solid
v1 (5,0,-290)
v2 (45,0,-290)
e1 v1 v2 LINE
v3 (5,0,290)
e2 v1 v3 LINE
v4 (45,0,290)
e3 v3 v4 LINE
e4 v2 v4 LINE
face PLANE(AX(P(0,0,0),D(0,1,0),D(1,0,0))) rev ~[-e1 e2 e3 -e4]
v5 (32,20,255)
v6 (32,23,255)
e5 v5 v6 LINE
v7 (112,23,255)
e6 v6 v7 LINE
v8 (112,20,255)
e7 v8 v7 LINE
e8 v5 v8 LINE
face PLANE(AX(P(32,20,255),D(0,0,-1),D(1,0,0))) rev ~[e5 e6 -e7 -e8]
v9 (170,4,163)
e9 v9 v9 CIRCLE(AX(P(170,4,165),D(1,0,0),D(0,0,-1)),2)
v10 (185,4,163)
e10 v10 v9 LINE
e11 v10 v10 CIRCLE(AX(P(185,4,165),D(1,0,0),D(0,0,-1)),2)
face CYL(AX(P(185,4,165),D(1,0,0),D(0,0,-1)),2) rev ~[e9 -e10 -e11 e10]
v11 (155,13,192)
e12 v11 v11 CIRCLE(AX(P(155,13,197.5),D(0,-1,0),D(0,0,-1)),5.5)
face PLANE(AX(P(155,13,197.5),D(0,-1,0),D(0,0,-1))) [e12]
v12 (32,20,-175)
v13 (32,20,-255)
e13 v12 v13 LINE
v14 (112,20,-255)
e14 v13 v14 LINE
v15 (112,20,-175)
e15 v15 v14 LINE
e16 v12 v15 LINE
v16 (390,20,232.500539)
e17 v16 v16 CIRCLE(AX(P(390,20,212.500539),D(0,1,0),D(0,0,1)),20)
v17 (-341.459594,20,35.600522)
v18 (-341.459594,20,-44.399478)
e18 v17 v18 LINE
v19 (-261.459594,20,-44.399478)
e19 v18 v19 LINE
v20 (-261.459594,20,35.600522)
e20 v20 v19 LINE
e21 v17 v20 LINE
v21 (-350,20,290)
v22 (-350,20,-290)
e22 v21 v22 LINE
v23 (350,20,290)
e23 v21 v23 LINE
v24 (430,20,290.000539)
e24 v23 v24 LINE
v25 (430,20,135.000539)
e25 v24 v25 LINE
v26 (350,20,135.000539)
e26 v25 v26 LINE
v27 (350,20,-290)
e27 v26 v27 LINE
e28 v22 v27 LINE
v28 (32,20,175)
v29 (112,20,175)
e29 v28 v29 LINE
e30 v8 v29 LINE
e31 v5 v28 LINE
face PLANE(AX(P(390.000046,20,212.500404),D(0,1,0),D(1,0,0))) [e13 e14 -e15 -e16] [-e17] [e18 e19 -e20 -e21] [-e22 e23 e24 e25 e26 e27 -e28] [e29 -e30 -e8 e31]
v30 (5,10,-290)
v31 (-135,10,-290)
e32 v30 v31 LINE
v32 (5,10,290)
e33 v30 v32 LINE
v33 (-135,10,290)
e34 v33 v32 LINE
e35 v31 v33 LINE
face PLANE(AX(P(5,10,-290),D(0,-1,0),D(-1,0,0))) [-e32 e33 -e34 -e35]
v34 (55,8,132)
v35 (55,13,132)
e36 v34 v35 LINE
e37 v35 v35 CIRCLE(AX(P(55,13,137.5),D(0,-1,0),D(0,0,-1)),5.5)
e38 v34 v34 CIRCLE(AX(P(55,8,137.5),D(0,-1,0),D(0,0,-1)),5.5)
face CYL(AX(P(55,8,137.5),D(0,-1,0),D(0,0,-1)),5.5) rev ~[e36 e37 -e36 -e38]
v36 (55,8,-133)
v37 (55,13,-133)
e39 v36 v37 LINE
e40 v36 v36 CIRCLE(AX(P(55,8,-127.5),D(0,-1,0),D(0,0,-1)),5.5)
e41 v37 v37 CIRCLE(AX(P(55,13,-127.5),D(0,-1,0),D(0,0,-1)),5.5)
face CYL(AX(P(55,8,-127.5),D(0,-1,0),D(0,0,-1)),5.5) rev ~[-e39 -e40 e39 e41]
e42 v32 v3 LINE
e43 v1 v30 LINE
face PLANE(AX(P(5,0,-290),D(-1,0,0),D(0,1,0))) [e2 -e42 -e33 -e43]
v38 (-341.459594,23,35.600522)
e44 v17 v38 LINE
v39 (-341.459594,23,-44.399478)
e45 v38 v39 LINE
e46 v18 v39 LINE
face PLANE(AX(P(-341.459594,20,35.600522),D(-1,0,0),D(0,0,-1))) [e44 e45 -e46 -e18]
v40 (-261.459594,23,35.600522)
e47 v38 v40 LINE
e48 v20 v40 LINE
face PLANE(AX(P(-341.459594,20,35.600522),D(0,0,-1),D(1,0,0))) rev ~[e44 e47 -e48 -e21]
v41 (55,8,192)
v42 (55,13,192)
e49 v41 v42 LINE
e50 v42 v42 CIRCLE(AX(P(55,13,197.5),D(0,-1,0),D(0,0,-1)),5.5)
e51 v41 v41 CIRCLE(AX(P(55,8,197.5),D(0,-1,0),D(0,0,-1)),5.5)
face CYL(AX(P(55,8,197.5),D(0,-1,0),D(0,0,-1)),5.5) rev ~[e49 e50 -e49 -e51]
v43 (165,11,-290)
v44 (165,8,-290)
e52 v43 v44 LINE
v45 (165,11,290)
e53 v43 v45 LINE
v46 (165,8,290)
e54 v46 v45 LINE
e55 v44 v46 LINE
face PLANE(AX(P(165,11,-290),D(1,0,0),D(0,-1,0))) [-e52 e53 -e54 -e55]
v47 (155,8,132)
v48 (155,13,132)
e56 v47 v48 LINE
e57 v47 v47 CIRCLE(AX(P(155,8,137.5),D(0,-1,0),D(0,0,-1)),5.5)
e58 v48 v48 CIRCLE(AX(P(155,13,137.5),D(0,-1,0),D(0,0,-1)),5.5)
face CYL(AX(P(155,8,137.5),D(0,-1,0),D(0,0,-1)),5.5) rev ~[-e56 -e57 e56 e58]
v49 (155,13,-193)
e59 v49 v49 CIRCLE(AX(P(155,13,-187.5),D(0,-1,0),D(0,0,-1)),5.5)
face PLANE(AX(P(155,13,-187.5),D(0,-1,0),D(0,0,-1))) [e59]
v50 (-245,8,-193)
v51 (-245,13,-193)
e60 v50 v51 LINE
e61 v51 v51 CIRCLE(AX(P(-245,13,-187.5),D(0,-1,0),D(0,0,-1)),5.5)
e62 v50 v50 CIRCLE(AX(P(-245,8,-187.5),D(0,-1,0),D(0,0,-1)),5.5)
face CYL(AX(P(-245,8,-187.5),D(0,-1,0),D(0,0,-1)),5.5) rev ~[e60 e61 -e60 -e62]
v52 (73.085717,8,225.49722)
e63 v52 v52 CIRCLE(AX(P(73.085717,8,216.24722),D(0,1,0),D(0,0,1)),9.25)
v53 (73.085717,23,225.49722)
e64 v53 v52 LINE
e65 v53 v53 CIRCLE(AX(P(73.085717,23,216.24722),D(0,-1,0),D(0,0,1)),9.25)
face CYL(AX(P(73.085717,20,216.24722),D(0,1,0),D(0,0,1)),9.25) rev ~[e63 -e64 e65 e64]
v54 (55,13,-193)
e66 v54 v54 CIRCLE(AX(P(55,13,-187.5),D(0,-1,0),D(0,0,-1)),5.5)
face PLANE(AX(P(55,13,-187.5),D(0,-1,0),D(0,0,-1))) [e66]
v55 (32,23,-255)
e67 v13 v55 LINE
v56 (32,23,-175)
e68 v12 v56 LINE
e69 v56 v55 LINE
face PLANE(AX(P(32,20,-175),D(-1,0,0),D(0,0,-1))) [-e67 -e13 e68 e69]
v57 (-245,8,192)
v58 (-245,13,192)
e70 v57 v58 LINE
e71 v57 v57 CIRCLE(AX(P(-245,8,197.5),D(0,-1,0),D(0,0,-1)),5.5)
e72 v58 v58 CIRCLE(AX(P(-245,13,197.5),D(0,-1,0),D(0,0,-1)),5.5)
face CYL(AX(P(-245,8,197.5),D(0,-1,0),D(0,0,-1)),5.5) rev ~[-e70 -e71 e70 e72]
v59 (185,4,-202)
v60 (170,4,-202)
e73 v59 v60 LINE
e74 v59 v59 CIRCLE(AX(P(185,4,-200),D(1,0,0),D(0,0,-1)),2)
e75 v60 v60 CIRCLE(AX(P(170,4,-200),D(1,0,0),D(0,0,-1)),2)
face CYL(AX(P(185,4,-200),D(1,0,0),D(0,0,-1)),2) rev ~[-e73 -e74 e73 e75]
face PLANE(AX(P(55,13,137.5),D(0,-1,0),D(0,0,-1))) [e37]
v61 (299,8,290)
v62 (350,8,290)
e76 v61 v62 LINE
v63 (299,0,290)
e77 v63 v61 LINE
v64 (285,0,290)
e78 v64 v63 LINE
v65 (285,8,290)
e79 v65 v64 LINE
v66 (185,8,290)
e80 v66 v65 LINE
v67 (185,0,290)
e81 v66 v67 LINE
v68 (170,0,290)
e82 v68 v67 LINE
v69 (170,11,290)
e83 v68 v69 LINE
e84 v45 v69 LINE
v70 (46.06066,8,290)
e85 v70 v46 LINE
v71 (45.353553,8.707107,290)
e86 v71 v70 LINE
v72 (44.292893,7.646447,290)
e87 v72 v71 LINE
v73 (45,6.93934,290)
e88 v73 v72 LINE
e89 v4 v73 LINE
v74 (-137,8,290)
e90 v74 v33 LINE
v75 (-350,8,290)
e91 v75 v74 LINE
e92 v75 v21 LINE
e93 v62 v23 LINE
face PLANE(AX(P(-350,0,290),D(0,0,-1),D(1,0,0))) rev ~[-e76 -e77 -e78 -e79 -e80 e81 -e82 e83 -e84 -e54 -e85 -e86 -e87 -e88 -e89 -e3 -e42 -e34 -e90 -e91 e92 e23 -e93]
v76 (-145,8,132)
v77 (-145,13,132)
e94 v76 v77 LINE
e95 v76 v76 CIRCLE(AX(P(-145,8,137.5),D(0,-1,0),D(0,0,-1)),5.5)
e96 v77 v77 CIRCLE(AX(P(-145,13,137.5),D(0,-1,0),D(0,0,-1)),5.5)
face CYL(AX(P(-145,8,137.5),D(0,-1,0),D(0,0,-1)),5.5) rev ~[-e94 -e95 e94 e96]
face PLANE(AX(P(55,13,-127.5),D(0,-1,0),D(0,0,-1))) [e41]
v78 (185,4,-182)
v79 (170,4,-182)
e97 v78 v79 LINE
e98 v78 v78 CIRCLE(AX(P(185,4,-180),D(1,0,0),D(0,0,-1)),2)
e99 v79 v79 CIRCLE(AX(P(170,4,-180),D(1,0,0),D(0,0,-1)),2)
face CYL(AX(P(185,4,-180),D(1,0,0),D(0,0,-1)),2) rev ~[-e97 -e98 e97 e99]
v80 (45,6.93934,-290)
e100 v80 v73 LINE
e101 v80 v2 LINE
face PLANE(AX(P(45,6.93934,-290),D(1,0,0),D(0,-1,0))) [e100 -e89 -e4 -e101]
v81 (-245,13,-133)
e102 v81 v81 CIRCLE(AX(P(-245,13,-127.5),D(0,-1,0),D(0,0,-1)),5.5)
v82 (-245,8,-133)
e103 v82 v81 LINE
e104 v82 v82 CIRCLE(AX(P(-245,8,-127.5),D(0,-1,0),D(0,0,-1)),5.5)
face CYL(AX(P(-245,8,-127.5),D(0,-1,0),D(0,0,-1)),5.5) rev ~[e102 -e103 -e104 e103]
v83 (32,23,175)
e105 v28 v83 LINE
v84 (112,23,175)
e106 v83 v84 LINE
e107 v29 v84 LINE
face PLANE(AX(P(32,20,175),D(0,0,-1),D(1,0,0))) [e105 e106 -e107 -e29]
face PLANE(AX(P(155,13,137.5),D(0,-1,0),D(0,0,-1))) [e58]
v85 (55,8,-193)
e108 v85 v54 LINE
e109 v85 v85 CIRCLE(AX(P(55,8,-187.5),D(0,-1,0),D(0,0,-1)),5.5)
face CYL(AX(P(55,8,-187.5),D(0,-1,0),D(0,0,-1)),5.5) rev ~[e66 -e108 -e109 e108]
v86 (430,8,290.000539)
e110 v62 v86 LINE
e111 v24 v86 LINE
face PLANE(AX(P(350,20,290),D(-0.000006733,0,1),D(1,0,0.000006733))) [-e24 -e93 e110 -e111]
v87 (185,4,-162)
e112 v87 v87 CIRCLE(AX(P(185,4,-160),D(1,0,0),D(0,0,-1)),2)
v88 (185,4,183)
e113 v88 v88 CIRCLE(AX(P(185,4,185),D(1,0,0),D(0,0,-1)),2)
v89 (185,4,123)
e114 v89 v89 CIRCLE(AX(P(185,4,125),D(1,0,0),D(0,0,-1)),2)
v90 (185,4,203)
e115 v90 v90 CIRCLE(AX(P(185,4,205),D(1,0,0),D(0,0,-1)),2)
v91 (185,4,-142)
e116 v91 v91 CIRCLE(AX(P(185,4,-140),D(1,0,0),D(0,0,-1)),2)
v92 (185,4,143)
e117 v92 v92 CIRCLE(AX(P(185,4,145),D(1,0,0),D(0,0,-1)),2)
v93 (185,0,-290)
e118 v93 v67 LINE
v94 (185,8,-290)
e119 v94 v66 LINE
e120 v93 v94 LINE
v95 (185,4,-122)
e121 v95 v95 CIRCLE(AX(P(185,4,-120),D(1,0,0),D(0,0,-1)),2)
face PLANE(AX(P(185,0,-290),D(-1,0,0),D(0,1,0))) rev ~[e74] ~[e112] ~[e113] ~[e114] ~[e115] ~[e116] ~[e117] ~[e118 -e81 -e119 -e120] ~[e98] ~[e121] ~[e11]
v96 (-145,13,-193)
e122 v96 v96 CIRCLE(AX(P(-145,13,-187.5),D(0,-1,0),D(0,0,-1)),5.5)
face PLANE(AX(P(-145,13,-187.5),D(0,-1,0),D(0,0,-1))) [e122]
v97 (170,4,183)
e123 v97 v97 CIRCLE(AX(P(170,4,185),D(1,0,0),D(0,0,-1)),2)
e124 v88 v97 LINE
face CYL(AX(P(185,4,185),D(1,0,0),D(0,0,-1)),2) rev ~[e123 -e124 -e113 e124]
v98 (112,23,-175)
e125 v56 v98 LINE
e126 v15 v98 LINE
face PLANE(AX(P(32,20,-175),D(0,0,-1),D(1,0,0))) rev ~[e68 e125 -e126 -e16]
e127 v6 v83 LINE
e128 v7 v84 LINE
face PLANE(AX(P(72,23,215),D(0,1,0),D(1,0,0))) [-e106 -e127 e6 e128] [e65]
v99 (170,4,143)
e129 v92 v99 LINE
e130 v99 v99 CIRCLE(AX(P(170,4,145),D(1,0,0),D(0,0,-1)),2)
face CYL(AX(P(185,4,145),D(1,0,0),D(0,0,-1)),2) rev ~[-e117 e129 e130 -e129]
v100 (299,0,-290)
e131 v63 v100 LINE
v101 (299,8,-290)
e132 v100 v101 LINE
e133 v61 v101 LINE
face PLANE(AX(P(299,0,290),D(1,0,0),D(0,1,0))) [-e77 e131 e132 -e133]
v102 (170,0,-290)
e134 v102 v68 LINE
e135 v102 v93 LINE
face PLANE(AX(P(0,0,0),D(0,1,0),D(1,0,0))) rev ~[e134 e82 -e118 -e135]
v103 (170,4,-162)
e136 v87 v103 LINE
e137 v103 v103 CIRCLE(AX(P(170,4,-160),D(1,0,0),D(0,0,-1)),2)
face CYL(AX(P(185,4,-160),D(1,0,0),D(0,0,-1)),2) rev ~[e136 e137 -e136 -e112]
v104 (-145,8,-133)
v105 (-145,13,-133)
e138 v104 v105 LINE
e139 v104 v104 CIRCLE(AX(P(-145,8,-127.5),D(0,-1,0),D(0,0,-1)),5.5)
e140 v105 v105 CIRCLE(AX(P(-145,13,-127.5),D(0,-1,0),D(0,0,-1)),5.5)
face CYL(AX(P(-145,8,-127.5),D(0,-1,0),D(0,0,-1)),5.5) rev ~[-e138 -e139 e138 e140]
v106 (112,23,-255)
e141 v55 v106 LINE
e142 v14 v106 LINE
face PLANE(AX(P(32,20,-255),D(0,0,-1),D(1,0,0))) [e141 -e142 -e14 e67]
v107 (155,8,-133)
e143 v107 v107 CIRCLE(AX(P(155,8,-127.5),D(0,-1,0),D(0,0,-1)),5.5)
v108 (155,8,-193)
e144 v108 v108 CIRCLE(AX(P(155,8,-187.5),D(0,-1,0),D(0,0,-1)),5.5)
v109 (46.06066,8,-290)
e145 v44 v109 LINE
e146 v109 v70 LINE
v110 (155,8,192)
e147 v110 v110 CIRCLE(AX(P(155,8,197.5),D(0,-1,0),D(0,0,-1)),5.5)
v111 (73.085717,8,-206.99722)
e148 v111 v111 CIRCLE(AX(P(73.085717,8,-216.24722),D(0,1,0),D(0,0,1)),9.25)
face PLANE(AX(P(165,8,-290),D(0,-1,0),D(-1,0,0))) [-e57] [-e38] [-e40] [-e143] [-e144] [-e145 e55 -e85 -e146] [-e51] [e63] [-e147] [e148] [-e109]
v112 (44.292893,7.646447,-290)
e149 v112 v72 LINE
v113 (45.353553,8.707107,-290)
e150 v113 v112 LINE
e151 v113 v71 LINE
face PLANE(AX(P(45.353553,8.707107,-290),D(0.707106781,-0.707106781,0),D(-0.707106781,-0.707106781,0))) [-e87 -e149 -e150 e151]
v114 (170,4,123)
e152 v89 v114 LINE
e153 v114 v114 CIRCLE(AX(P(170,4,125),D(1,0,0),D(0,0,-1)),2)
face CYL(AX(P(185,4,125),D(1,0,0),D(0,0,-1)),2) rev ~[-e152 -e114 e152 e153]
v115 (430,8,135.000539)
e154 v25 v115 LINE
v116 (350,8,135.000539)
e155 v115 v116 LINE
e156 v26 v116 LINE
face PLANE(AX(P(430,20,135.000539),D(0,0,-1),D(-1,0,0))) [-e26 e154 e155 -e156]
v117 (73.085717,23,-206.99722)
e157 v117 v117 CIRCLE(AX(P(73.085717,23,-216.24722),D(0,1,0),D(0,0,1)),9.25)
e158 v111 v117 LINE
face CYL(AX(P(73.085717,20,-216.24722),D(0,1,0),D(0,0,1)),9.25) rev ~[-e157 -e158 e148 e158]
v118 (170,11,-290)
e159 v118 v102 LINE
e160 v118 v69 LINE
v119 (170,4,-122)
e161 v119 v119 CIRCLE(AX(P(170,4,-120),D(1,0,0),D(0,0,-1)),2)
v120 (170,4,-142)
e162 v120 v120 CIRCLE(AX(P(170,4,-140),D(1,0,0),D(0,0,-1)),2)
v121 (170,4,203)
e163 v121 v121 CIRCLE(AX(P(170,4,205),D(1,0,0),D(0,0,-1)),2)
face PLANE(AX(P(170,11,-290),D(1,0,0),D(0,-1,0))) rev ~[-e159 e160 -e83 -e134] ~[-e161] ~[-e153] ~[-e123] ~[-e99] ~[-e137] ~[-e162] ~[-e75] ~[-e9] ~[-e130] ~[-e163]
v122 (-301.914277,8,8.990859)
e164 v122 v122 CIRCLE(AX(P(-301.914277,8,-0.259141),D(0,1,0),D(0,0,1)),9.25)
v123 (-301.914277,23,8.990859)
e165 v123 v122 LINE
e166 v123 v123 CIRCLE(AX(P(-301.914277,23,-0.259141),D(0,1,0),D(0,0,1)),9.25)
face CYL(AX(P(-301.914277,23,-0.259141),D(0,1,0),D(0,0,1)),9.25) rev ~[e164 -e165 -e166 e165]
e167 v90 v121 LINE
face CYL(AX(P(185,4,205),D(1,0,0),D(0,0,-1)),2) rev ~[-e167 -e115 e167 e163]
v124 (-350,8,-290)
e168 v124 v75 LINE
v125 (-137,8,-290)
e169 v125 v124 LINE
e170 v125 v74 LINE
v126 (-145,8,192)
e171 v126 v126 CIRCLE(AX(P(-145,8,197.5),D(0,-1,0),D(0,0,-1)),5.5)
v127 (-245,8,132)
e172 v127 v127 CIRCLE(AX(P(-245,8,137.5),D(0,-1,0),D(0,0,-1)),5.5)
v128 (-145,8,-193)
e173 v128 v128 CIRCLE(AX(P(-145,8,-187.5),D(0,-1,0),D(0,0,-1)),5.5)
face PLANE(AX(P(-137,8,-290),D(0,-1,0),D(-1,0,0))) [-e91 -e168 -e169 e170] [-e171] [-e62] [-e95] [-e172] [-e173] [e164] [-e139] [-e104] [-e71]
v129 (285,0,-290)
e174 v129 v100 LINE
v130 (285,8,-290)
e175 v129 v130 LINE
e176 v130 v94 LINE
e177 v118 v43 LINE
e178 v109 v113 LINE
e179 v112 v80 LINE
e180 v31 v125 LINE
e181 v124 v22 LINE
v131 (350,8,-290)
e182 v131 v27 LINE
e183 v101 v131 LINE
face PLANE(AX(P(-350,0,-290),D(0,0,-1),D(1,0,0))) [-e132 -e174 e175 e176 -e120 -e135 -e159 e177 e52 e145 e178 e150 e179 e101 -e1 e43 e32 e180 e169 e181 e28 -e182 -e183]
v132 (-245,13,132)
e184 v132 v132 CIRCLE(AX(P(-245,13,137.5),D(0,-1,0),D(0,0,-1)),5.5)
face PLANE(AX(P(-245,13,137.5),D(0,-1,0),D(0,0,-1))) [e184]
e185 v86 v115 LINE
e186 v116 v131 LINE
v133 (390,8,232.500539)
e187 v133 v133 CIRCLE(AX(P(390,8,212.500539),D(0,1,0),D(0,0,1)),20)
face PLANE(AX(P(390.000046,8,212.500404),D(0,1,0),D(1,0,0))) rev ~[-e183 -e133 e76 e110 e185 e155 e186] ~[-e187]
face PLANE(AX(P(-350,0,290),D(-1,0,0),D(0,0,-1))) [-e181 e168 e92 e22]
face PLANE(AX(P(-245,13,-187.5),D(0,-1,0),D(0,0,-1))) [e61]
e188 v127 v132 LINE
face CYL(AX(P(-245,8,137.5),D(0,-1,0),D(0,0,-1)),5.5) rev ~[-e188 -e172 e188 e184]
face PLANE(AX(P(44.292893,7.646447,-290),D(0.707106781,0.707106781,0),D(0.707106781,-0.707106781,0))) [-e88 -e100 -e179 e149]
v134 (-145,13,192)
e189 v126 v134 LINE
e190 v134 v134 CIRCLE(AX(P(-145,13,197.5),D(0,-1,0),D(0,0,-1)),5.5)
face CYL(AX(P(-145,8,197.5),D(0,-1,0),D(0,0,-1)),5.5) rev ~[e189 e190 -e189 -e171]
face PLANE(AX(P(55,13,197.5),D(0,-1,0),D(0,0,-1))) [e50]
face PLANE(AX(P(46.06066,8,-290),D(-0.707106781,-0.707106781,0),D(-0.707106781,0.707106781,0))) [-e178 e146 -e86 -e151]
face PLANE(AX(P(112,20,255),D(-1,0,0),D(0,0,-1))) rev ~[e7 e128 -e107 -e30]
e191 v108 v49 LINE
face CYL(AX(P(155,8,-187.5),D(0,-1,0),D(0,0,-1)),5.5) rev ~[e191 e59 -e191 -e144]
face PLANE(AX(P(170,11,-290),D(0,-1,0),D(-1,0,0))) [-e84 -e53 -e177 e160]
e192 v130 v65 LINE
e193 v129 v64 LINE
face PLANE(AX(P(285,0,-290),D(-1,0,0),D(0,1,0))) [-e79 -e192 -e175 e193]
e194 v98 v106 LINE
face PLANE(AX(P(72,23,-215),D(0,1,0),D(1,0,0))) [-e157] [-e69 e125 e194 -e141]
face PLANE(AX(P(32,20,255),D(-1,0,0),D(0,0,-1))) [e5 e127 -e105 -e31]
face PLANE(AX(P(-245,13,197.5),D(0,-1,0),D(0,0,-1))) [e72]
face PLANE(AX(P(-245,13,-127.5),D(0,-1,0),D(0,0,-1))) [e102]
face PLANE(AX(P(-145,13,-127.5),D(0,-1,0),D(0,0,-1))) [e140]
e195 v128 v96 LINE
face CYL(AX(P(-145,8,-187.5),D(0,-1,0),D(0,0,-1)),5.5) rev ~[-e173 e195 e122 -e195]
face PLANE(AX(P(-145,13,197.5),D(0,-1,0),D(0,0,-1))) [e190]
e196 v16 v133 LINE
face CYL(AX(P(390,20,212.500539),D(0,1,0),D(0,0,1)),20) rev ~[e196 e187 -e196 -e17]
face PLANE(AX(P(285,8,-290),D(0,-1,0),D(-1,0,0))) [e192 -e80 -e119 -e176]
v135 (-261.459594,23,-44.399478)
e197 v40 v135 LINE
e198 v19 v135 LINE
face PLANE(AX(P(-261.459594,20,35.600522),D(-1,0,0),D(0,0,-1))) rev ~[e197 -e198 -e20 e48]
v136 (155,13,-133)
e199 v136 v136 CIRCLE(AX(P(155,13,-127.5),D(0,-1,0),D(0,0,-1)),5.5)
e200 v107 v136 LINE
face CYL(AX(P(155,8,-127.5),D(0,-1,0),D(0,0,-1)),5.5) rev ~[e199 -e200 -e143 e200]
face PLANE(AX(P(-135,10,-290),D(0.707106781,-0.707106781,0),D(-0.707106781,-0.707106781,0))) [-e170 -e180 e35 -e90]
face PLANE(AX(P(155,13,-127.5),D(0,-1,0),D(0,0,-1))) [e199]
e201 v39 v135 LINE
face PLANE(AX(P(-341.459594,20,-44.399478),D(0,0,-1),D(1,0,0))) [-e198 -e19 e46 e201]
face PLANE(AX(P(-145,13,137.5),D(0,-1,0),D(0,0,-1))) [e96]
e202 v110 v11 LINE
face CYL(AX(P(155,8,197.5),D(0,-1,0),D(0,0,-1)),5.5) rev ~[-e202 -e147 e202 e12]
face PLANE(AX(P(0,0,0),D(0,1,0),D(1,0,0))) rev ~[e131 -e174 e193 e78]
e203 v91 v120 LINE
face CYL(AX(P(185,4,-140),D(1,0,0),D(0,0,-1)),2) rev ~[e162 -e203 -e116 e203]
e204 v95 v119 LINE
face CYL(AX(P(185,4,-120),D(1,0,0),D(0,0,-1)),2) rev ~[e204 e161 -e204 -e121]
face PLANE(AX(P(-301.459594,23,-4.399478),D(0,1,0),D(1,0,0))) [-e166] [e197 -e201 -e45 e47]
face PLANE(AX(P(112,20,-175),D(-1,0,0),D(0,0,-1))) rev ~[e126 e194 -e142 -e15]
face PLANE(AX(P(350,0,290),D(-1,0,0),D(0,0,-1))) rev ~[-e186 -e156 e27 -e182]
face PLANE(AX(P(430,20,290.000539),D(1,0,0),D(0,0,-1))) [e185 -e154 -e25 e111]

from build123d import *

# Parameters (mm, degrees)
SKETCH_1_W                       = 700
SKETCH_1_H                       = 580
EXTRUDE_1_DEPTH                  = 20
EXTRUDE_2_DEPTH                  = 12
CUT_EXTRUDE_1_REACH              = 521.038
SKETCH_3_R                       = 20
CUT_EXTRUDE_2_REACH              = 724.288
CUT_EXTRUDE_3_REACH              = 724.288
CUT_EXTRUDE_4_REACH              = 724.288
SKETCH_6_W                       = 100
SKETCH_6_H                       = 8
CUT_EXTRUDE_5_REACH              = 610.872
SKETCH_7_R                       = 2
CUT_EXTRUDE_6_REACH              = 610.872
SKETCH_8_R                       = 2
PATTERN_LINEAR_1_COUNT           = 5
PATTERN_LINEAR_1_PITCH           = 20
CUT_EXTRUDE_7_REACH              = 724.288
SKETCH_9_W                       = 131
SKETCH_9_H                       = 8
SKETCH_13_R                      = 5.5
CUT_EXTRUDE_10_DEPTH             = 5
PATTERN_LINEAR_2_COUNT           = 2
PATTERN_LINEAR_2_PITCH           = 300
PATTERN_LINEAR_3_COUNT           = 2
PATTERN_LINEAR_3_PITCH           = 325
PATTERN_LINEAR_3_COPY_1_SKETCH_R = 5.5
PATTERN_LINEAR_3_COPY_1_DEPTH    = 5
SKETCH_15_W                      = 80
SKETCH_15_H                      = 80
EXTRUDE_3_DEPTH                  = 3
SKETCH_16_R                      = 9.25
CUT_EXTRUDE_11_DEPTH             = 520.16212535
SKETCH_15_3_R                    = 9.25
CUT_EXTRUDE_12_DEPTH             = 15


with BuildPart() as part:
    # 草图1 → 凸台-拉伸1 (new body)
    with BuildSketch(Plane(origin=(0, 0, 0), x_dir=(1, 0, 0), z_dir=(0, 1, 0))):
        Rectangle(SKETCH_1_W, SKETCH_1_H)
    extrude(amount=EXTRUDE_1_DEPTH)

    # 草图2 → 凸台-拉伸2 (add)
    with BuildSketch(Plane(origin=(0, 20, 0), x_dir=(1, 0, 0), z_dir=(0, 1, 0))):
        Polygon((350, -135.000538617), (350, -290), (430, -290.000538617), (430, -135.000538617), align=None)
    extrude(amount=-EXTRUDE_2_DEPTH)

    # 草图3 → 切除-拉伸1 (cut, up to next)
    with BuildSketch(Plane(origin=(0, 20, 0), x_dir=(1, 0, 0), z_dir=(0, 1, 0)), mode=Mode.PRIVATE) as cut_extrude_1_sk1:
        with Locations((390, -212.500538617)):
            Circle(SKETCH_3_R)
    cut_extrude_1_tool1 = extrude(cut_extrude_1_sk1.sketch, amount=-CUT_EXTRUDE_1_REACH, mode=Mode.PRIVATE) & part.part
    add(cut_extrude_1_tool1.solids().sort_by_distance((390, 20, 212.500539))[0], mode=Mode.SUBTRACT)

    # 草图4 → 切除-拉伸2 (cut, up to next)
    with BuildSketch(Plane(origin=(0, 0, -290), x_dir=(-1, 0, 0), z_dir=(0, 0, -1)), mode=Mode.PRIVATE) as cut_extrude_2_sk1:
        Polygon((-170, 0), (-170, 8), (-170, 11), (-165, 11), (-165, 8), (-46.060660172, 8), (-45.353553391, 8.707106781), (-44.292893219, 7.646446609), (-45, 6.939339828), (-45, 0), align=None)
    cut_extrude_2_tool1 = extrude(cut_extrude_2_sk1.sketch, amount=-CUT_EXTRUDE_2_REACH, mode=Mode.PRIVATE) & part.part
    add(cut_extrude_2_tool1.solids().sort_by_distance((108.328272, 4.084832, -290))[0], mode=Mode.SUBTRACT)

    # 草图5 → 切除-拉伸3 (cut, up to next)
    with BuildSketch(Plane(origin=(0, 0, -290), x_dir=(-1, 0, 0), z_dir=(0, 0, -1)), mode=Mode.PRIVATE) as cut_extrude_3_sk1:
        Polygon((-5, 0), (-5, 10), (135, 10), (137, 8), (350, 8), (350, 0), (167, 0), align=None)
    cut_extrude_3_tool1 = extrude(cut_extrude_3_sk1.sketch, amount=-CUT_EXTRUDE_3_REACH, mode=Mode.PRIVATE) & part.part
    add(cut_extrude_3_tool1.solids().sort_by_distance((-162.835148, 4.45142, -290))[0], mode=Mode.SUBTRACT)

    # 草图6 → 切除-拉伸4 (cut, up to next)
    with BuildSketch(Plane(origin=(0, 0, -290), x_dir=(-1, 0, 0), z_dir=(0, 0, -1)), mode=Mode.PRIVATE) as cut_extrude_4_sk1:
        with Locations((-235, 4)):
            Rectangle(SKETCH_6_W, SKETCH_6_H)
    cut_extrude_4_tool1 = extrude(cut_extrude_4_sk1.sketch, amount=-CUT_EXTRUDE_4_REACH, mode=Mode.PRIVATE) & part.part
    add(cut_extrude_4_tool1.solids().sort_by_distance((235, 4, -290))[0], mode=Mode.SUBTRACT)

    # 草图7 → 切除-拉伸5 (cut, up to next)
    with BuildSketch(Plane(origin=(185, 0, 0), x_dir=(0, 0, -1), z_dir=(1, 0, 0)), mode=Mode.PRIVATE) as cut_extrude_5_sk1:
        with Locations((200, 4)):
            Circle(SKETCH_7_R)
    cut_extrude_5_tool1 = extrude(cut_extrude_5_sk1.sketch, amount=-CUT_EXTRUDE_5_REACH, mode=Mode.PRIVATE) & part.part
    # 草图7 → 切除-拉伸5 (cut, up to next)
    with BuildSketch(Plane(origin=(185, 0, 0), x_dir=(0, 0, -1), z_dir=(1, 0, 0)), mode=Mode.PRIVATE) as cut_extrude_5_sk2:
        with Locations((180, 4)):
            Circle(SKETCH_7_R)
    cut_extrude_5_tool2 = extrude(cut_extrude_5_sk2.sketch, amount=-CUT_EXTRUDE_5_REACH, mode=Mode.PRIVATE) & part.part
    # 草图7 → 切除-拉伸5 (cut, up to next)
    with BuildSketch(Plane(origin=(185, 0, 0), x_dir=(0, 0, -1), z_dir=(1, 0, 0)), mode=Mode.PRIVATE) as cut_extrude_5_sk3:
        with Locations((160, 4)):
            Circle(SKETCH_7_R)
    cut_extrude_5_tool3 = extrude(cut_extrude_5_sk3.sketch, amount=-CUT_EXTRUDE_5_REACH, mode=Mode.PRIVATE) & part.part
    # 草图7 → 切除-拉伸5 (cut, up to next)
    with BuildSketch(Plane(origin=(185, 0, 0), x_dir=(0, 0, -1), z_dir=(1, 0, 0)), mode=Mode.PRIVATE) as cut_extrude_5_sk4:
        with Locations((140, 4)):
            Circle(SKETCH_7_R)
    cut_extrude_5_tool4 = extrude(cut_extrude_5_sk4.sketch, amount=-CUT_EXTRUDE_5_REACH, mode=Mode.PRIVATE) & part.part
    # 草图7 → 切除-拉伸5 (cut, up to next)
    with BuildSketch(Plane(origin=(185, 0, 0), x_dir=(0, 0, -1), z_dir=(1, 0, 0)), mode=Mode.PRIVATE) as cut_extrude_5_sk5:
        with Locations((120, 4)):
            Circle(SKETCH_7_R)
    cut_extrude_5_tool5 = extrude(cut_extrude_5_sk5.sketch, amount=-CUT_EXTRUDE_5_REACH, mode=Mode.PRIVATE) & part.part
    add(cut_extrude_5_tool1.solids().sort_by_distance((185, 4, -200))[0], mode=Mode.SUBTRACT)
    add(cut_extrude_5_tool2.solids().sort_by_distance((185, 4, -180))[0], mode=Mode.SUBTRACT)
    add(cut_extrude_5_tool3.solids().sort_by_distance((185, 4, -160))[0], mode=Mode.SUBTRACT)
    add(cut_extrude_5_tool4.solids().sort_by_distance((185, 4, -140))[0], mode=Mode.SUBTRACT)
    add(cut_extrude_5_tool5.solids().sort_by_distance((185, 4, -120))[0], mode=Mode.SUBTRACT)

    # 草图8 → 切除-拉伸6 (cut, up to next)
    with BuildSketch(Plane(origin=(185, 0, 0), x_dir=(0, 0, -1), z_dir=(1, 0, 0)), mode=Mode.PRIVATE) as cut_extrude_6_sk1:
        with Locations((-125, 4)):
            Circle(SKETCH_8_R)
    cut_extrude_6_tool1 = extrude(cut_extrude_6_sk1.sketch, amount=-CUT_EXTRUDE_6_REACH, mode=Mode.PRIVATE) & part.part
    cut_extrude_6 = cut_extrude_6_tool1.solids().sort_by_distance((185, 4, 125))[0]
    add(cut_extrude_6, mode=Mode.SUBTRACT)

    # 阵列(线性)1: 切除-拉伸6 ×5
    with Locations(*[(0, 0, i * PATTERN_LINEAR_1_PITCH) for i in range(1, PATTERN_LINEAR_1_COUNT)]):
        add(cut_extrude_6, mode=Mode.SUBTRACT)

    # 草图9 → 切除-拉伸7 (cut, up to next)
    with BuildSketch(Plane.XY.offset(290), mode=Mode.PRIVATE) as cut_extrude_7_sk1:
        with Locations((364.5, 4)):
            Rectangle(SKETCH_9_W, SKETCH_9_H)
    cut_extrude_7_tool1 = extrude(cut_extrude_7_sk1.sketch, amount=-CUT_EXTRUDE_7_REACH, mode=Mode.PRIVATE) & part.part
    add(cut_extrude_7_tool1.solids().sort_by_distance((364.5, 4, 290))[0], mode=Mode.SUBTRACT)

    # 草图13 → 切除-拉伸10 (cut)
    with BuildSketch(Plane.XZ.offset(-8)):
        with Locations((-245, 137.5)):
            Circle(SKETCH_13_R)
        with Locations((-245, 197.5)):
            Circle(SKETCH_13_R)
        with Locations((-145, 197.5)):
            Circle(SKETCH_13_R)
        with Locations((-145, 137.5)):
            Circle(SKETCH_13_R)
    cut_extrude_10 = extrude(amount=-CUT_EXTRUDE_10_DEPTH, mode=Mode.SUBTRACT)

    # 阵列(线性)2: 切除-拉伸10 ×2
    with Locations(*[(i * PATTERN_LINEAR_2_PITCH, 0, 0) for i in range(1, PATTERN_LINEAR_2_COUNT)]):
        add(cut_extrude_10, mode=Mode.SUBTRACT)

    # 阵列(线性)3: 切除-拉伸10 ×2
    with Locations(*[(0, 0, -i * PATTERN_LINEAR_3_PITCH) for i in range(1, PATTERN_LINEAR_3_COUNT)]):
        add(cut_extrude_10, mode=Mode.SUBTRACT)

    # 阵列(线性)3 copy 1 sketch → 阵列(线性)3 copy 1 (cut)
    with BuildSketch(Plane(origin=(300, 8, -325), x_dir=(1, 0, 0), z_dir=(0, -1, 0))):
        with Locations((-245, 137.5)):
            Circle(PATTERN_LINEAR_3_COPY_1_SKETCH_R)
        with Locations((-245, 197.5)):
            Circle(PATTERN_LINEAR_3_COPY_1_SKETCH_R)
        with Locations((-145, 197.5)):
            Circle(PATTERN_LINEAR_3_COPY_1_SKETCH_R)
        with Locations((-145, 137.5)):
            Circle(PATTERN_LINEAR_3_COPY_1_SKETCH_R)
    extrude(amount=-PATTERN_LINEAR_3_COPY_1_DEPTH, mode=Mode.SUBTRACT)

    # 草图15 → 凸台-拉伸3 (add)
    with BuildSketch(Plane(origin=(0, 20, 0), x_dir=(1, 0, 0), z_dir=(0, 1, 0))):
        with Locations((72, -215)):
            Rectangle(SKETCH_15_W, SKETCH_15_H)
        with Locations((72, 215)):
            Rectangle(SKETCH_15_W, SKETCH_15_H)
        with Locations((-301.459594093, 4.399478147)):
            Rectangle(SKETCH_15_W, SKETCH_15_H)
    extrude(amount=EXTRUDE_3_DEPTH)

    # 草图16 → 切除-拉伸11 (cut, through all)
    with BuildSketch(Plane(origin=(0, 23, 0), x_dir=(1, 0, 0), z_dir=(0, 1, 0))):
        with Locations((-301.914277382, 0.259141217)):
            Circle(SKETCH_16_R)
    extrude(amount=-CUT_EXTRUDE_11_DEPTH, mode=Mode.SUBTRACT)

    # 草图15<3> → 切除-拉伸12 (cut, symmetric)
    with BuildSketch(Plane(origin=(0, 20, 0), x_dir=(1, 0, 0), z_dir=(0, 1, 0))):
        with Locations((73.085716832, -216.247219752)):
            Circle(SKETCH_15_3_R)
        with Locations((73.085716832, 216.247219752)):
            Circle(SKETCH_15_3_R)
    extrude(amount=CUT_EXTRUDE_12_DEPTH, both=True, mode=Mode.SUBTRACT)


solid = part.part
